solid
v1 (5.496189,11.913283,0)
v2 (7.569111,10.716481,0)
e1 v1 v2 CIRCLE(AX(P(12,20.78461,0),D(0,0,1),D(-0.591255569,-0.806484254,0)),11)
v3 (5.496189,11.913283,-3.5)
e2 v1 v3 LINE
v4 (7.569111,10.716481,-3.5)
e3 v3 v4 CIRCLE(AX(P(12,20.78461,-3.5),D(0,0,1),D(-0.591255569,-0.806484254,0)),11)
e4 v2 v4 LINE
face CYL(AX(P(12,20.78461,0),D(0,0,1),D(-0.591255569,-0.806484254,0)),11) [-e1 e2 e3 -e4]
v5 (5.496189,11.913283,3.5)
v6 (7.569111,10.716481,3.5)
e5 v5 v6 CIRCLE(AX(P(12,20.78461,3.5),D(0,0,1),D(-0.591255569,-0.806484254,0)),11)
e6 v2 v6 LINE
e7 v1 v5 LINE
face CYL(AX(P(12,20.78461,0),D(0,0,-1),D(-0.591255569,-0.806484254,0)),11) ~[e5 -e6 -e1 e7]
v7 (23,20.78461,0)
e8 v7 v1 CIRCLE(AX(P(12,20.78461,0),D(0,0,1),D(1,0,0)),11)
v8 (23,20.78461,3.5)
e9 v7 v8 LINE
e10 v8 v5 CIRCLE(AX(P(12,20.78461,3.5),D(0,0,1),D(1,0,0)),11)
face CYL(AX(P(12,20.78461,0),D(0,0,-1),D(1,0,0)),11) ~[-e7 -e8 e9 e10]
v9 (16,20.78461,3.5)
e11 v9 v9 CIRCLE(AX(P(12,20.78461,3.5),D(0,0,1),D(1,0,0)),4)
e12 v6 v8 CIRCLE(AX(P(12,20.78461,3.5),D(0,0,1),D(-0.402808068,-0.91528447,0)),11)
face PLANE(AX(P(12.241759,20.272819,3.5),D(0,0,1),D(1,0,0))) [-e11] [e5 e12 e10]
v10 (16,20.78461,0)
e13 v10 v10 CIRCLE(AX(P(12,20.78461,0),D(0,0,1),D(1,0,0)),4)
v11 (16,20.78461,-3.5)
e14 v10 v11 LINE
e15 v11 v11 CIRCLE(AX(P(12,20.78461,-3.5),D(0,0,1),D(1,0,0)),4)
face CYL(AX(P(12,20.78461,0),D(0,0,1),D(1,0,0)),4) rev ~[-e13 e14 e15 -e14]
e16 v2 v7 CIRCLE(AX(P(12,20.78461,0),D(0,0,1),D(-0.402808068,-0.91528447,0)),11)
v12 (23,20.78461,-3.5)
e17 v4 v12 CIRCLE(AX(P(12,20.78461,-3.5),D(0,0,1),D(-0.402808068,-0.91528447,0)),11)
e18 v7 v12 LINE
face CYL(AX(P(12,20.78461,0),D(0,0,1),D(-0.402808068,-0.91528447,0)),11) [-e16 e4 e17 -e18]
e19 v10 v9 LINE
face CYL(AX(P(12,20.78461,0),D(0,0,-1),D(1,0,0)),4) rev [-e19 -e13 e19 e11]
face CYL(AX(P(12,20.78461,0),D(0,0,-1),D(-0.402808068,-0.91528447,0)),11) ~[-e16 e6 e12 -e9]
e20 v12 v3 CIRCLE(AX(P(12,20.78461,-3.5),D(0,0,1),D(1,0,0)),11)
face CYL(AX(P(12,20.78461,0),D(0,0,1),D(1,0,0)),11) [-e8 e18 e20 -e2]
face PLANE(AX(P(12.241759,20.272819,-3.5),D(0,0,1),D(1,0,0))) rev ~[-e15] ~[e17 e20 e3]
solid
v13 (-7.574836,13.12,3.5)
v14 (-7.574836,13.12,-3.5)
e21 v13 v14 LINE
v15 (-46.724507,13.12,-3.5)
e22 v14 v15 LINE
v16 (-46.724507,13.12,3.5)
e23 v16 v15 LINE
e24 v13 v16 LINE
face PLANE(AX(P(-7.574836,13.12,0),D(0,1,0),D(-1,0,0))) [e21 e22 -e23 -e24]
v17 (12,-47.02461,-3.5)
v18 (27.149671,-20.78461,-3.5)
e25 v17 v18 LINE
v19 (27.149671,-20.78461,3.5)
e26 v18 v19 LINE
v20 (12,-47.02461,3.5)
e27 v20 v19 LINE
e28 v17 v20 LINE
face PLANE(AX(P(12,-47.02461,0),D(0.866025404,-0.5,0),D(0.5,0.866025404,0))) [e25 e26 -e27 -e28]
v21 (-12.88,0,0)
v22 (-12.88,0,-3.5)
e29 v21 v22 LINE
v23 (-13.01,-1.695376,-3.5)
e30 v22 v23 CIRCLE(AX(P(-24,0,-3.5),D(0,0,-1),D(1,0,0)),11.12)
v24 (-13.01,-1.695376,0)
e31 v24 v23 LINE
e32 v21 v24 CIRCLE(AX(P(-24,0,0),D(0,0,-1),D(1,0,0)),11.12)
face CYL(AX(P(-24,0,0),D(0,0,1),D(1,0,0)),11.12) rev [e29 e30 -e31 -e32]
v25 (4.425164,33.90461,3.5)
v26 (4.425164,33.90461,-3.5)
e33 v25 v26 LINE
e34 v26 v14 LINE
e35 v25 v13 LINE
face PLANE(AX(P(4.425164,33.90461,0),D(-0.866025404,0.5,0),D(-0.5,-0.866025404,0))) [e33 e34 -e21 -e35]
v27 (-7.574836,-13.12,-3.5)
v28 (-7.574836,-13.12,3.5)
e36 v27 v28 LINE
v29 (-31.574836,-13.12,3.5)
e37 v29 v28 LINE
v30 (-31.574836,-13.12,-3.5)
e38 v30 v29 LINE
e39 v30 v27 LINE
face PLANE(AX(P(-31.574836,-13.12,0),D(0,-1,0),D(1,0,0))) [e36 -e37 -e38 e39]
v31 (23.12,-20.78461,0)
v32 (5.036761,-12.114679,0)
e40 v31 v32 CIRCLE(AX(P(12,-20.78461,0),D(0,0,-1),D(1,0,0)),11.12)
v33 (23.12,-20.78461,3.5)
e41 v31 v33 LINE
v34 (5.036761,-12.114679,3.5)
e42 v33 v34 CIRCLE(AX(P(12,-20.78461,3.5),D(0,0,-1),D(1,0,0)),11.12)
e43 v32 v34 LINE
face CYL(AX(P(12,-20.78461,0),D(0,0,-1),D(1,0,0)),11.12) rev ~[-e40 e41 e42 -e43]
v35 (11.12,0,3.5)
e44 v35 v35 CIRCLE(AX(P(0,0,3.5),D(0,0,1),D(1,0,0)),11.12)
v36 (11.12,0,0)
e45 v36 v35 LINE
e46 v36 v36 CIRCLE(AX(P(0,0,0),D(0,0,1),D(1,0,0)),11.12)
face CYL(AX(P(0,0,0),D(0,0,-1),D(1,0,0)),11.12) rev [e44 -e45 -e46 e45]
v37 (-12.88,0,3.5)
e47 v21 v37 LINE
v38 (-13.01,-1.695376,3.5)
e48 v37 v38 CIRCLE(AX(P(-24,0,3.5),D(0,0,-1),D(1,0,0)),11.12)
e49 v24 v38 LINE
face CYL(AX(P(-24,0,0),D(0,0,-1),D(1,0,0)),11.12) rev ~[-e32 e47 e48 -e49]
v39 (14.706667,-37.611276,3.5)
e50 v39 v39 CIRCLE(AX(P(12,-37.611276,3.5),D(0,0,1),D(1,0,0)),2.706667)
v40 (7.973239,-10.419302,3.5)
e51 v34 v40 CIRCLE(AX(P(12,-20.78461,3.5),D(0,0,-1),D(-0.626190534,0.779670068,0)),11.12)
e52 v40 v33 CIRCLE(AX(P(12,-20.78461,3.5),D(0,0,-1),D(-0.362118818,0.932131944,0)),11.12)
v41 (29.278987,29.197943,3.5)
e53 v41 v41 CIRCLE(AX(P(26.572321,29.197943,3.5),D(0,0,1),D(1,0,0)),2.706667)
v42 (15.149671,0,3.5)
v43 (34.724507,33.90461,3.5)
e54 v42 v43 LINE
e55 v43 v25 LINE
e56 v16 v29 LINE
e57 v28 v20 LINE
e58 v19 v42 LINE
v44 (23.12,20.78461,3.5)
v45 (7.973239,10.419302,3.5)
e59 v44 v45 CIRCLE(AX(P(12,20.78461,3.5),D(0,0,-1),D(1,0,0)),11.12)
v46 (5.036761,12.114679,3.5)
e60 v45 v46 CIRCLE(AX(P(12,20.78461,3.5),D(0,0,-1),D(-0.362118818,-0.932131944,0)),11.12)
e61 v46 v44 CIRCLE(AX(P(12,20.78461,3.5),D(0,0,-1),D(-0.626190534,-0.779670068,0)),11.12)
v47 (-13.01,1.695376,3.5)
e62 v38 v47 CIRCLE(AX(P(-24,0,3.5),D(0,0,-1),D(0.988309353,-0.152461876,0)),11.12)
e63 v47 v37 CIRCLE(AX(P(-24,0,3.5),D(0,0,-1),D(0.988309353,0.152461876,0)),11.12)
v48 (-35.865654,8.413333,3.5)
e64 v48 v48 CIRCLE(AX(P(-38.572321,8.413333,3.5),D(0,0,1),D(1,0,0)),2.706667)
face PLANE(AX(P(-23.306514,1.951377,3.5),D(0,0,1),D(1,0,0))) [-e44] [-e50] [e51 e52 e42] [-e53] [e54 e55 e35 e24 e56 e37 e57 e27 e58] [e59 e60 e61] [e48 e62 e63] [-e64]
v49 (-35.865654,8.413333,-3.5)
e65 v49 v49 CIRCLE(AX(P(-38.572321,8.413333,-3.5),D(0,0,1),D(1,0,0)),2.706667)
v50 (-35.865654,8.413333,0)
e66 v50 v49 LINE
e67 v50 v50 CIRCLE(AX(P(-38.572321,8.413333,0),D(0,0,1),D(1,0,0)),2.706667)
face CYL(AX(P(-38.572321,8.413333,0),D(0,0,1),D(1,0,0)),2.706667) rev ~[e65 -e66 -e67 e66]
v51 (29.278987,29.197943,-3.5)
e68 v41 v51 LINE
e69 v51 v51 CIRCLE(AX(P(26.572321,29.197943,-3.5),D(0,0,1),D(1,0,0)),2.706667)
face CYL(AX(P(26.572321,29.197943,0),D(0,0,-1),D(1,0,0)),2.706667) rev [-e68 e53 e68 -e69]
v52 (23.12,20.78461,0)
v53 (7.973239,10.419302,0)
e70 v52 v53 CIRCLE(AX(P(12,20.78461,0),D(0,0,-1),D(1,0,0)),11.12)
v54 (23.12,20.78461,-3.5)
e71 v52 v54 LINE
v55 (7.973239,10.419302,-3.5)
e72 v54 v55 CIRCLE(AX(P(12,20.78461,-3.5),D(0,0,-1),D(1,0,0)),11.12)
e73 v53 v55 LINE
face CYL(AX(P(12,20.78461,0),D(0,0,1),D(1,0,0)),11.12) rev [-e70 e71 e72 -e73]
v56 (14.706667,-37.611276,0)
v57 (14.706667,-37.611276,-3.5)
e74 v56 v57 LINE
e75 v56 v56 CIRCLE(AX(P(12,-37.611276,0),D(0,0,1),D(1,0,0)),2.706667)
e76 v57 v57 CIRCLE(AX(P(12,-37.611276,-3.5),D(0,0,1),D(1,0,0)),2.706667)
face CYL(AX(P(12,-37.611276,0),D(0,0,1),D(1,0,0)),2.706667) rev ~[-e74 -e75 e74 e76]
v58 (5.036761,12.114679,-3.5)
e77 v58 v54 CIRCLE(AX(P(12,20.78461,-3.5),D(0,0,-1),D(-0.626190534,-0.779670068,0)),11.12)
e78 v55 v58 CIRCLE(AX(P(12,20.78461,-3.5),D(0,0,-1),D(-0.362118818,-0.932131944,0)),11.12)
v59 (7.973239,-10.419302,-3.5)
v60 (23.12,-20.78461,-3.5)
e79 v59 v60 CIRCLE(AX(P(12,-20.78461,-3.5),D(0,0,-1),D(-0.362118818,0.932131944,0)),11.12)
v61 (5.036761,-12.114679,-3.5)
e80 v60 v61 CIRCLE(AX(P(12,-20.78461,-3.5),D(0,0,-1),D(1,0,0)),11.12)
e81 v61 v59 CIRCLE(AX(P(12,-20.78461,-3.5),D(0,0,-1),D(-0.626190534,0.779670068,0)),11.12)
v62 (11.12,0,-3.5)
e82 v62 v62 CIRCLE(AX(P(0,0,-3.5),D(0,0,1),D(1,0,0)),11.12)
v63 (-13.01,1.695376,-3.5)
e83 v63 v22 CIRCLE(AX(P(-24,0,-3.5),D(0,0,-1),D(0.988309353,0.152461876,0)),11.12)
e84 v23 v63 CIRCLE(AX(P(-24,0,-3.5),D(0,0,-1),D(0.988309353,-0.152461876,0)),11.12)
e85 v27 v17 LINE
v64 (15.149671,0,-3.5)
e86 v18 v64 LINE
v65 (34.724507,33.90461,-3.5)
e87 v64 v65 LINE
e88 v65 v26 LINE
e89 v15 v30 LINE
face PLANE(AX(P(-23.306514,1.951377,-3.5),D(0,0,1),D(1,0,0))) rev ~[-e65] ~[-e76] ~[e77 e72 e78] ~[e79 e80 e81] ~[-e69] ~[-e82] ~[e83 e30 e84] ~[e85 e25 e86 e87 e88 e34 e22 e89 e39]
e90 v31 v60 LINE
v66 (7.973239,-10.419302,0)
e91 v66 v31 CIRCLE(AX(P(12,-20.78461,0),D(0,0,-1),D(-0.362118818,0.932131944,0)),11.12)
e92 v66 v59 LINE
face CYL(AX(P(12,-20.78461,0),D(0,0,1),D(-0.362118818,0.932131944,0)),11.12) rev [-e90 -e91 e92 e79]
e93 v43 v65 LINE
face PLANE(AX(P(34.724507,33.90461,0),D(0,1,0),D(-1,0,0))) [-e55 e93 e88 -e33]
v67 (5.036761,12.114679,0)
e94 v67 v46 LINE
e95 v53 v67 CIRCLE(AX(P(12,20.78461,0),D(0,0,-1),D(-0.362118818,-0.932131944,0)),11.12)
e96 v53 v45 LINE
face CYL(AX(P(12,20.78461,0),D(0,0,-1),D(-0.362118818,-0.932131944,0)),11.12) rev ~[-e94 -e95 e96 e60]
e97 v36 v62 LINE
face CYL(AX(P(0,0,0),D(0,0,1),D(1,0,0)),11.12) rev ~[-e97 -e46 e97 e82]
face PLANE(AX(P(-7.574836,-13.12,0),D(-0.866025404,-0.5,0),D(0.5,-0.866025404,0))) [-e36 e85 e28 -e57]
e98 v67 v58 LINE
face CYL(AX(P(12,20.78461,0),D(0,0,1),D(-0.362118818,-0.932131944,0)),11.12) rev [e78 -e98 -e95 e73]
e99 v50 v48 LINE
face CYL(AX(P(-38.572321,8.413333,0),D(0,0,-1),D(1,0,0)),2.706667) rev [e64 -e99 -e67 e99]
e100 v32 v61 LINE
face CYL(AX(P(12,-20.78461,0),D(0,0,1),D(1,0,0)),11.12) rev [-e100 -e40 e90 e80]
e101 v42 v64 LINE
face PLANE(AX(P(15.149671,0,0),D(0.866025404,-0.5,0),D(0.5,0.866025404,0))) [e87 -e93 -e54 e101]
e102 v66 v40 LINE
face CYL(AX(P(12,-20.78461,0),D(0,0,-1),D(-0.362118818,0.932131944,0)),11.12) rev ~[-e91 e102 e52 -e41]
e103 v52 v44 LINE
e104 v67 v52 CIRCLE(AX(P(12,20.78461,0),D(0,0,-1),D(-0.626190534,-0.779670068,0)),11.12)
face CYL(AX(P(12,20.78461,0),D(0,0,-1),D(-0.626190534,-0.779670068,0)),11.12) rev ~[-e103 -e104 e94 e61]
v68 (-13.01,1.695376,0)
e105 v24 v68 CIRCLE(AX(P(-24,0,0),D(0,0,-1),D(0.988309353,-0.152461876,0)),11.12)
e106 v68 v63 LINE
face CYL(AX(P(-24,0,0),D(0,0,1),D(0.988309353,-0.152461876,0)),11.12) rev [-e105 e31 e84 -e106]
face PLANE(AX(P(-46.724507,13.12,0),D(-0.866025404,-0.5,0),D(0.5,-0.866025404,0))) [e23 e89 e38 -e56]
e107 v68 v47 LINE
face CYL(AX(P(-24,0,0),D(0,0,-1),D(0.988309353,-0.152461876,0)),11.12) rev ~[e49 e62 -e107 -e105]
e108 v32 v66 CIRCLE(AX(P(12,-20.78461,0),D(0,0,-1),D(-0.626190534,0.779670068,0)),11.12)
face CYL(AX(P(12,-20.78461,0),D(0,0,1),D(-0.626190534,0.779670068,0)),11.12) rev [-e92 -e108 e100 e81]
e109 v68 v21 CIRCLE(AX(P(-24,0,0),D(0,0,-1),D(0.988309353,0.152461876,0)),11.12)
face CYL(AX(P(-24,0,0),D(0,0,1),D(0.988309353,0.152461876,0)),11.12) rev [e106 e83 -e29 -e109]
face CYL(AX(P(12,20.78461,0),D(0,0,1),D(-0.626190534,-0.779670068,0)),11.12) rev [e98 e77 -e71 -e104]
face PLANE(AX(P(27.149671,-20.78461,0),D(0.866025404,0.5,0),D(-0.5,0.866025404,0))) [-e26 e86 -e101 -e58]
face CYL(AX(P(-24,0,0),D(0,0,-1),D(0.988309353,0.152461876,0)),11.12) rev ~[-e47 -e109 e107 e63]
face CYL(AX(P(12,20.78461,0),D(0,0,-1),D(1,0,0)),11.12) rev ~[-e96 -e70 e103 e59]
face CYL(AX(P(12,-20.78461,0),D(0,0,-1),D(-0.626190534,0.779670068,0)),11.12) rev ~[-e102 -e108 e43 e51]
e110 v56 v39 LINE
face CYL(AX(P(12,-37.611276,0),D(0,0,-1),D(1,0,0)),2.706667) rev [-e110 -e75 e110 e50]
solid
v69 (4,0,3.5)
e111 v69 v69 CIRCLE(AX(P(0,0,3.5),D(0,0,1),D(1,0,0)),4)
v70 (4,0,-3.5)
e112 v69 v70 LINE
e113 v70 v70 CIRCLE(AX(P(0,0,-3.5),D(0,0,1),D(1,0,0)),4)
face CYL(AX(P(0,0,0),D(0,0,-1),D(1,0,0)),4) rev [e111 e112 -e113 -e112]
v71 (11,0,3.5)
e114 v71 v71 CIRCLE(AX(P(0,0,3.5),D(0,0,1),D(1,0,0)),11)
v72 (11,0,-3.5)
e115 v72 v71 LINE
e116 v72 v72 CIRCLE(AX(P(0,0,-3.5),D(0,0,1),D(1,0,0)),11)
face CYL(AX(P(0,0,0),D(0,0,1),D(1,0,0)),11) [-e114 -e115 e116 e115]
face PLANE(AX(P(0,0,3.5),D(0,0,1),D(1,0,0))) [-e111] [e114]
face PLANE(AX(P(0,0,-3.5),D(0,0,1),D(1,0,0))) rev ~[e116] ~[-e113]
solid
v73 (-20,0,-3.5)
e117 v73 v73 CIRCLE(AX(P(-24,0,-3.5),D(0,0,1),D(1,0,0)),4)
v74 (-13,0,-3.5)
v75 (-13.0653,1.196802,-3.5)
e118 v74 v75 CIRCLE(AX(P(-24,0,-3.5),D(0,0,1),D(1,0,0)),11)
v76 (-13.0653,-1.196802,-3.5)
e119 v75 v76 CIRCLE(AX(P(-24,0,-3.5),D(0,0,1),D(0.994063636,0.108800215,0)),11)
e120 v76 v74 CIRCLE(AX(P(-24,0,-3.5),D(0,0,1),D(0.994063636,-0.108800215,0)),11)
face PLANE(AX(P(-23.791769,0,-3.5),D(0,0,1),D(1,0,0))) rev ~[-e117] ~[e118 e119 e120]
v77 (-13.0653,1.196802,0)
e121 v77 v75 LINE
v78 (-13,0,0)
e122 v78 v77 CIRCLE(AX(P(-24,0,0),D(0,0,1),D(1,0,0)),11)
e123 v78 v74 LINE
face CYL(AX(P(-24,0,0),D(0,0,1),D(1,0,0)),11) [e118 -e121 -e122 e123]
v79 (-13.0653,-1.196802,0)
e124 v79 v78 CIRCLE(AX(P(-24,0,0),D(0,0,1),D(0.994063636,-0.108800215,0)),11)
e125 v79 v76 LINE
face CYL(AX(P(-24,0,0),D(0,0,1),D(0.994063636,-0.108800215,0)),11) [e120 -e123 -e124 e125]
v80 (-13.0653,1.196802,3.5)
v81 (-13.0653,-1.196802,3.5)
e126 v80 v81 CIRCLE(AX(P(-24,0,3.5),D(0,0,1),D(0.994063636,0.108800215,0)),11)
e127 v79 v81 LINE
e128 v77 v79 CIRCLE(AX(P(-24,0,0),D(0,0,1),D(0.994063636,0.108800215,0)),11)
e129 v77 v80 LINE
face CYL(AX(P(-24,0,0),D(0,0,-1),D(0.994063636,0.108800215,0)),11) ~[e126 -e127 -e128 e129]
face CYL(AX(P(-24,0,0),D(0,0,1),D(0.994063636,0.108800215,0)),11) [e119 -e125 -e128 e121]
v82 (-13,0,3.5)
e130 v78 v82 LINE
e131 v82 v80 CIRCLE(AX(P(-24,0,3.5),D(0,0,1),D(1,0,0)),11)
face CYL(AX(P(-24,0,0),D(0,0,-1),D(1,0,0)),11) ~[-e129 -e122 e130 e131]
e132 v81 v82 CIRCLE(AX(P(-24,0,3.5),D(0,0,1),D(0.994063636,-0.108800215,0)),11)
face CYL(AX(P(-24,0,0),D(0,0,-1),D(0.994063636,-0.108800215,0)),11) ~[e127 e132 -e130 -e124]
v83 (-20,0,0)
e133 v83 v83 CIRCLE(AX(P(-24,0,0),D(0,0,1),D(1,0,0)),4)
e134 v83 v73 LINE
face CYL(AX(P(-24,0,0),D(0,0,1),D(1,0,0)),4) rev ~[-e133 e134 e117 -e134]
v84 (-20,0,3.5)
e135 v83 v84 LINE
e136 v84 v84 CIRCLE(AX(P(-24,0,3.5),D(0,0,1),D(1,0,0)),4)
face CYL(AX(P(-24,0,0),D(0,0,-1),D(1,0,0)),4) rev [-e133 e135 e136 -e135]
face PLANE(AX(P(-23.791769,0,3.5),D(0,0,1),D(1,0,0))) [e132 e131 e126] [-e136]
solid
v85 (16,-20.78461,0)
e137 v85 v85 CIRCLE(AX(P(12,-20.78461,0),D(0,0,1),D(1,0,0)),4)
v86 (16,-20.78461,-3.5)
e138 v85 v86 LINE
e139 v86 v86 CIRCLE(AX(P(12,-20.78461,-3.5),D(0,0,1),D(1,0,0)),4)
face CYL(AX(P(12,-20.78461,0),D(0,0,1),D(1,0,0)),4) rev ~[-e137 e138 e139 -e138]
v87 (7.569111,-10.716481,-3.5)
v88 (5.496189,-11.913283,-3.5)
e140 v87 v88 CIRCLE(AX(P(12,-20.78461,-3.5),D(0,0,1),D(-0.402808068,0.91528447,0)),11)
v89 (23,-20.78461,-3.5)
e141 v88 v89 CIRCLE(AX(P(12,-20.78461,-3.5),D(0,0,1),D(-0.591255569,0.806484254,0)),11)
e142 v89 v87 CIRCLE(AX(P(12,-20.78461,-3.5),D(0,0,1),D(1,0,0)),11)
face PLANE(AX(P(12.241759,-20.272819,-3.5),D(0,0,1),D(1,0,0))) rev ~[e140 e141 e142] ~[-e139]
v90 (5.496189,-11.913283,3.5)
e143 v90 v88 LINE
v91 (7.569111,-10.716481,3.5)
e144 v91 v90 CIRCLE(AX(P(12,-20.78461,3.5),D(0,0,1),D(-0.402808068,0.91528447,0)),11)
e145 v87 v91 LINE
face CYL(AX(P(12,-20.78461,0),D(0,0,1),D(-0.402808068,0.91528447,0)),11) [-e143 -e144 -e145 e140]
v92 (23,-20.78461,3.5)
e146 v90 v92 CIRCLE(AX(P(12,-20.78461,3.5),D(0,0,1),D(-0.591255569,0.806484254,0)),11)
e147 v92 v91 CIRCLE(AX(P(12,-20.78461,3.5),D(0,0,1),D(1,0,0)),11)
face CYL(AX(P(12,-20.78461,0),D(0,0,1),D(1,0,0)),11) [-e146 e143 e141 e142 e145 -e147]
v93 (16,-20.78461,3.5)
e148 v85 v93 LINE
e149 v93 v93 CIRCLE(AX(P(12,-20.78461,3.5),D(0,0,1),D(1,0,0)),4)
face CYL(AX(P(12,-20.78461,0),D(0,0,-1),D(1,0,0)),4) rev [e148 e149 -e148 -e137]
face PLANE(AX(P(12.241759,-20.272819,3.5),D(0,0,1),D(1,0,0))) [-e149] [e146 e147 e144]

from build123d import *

# Parameters (mm, degrees)
F0_R     = 11
F0_R_2   = 4
F1_DEPTH = 3.5
F2_R     = 4
F3_DEPTH = 3.5
F2_R_2   = 2.7066666667
F2_R_3   = 11.12


with BuildPart() as f1:
    # F0 (on Top) → F1 (new body, symmetric)
    with BuildSketch(Plane.XY):
        Circle(F0_R)
        Circle(F0_R_2, mode=Mode.SUBTRACT)
    extrude(amount=F1_DEPTH, both=True)


with BuildPart() as f3:
    # F2 (on Top) → F3 (new body, symmetric)
    with BuildSketch(Plane.XY):
        with BuildLine():
            ThreePointArc((-13.0653, -1.1968023688), (-13.12, 0), (-13.0653, 1.1968023688))
            ThreePointArc((-13.0653, 1.1968023688), (-35, 0), (-13.0653, -1.1968023688))
        make_face()
        with Locations((-24, 0)):
            Circle(F2_R, mode=Mode.SUBTRACT)
        with BuildLine():
            ThreePointArc((-13.0653, -1.1968023688), (-13.0163371319, -0.5992912481), (-13, 0))
            ThreePointArc((-13, 0), (-13.0163371319, 0.5992912481), (-13.0653, 1.1968023688))
            ThreePointArc((-13.0653, 1.1968023688), (-13.12, 0), (-13.0653, -1.1968023688))
        make_face()
        with BuildLine():
            ThreePointArc((-13.0653, -1.1968023688), (-13.12, 0), (-13.0653, 1.1968023688))
            ThreePointArc((-13.0653, 1.1968023688), (-35, 0), (-13.0653, -1.1968023688))
        make_face()
        with Locations((-24, 0)):
            Circle(F2_R, mode=Mode.SUBTRACT)
    extrude(amount=F3_DEPTH, both=True)


with BuildPart() as f3b:
    # F2 (on Top) → F3, piece 2 (new body, symmetric)
    with BuildSketch(Plane.XY):
        with BuildLine():
            ThreePointArc((23, 20.7846096908), (7.027170011, 30.5963863852), (5.4961887453, 11.9132828925))
            ThreePointArc((5.4961887453, 11.9132828925), (6.56, 11.3622532977), (7.5691112547, 10.7164805237))
            ThreePointArc((7.5691112547, 10.7164805237), (18.0108328791, 11.5721242445), (23, 20.7846096908))
        make_face()
        with Locations((12, 20.7846096908)):
            Circle(F2_R, mode=Mode.SUBTRACT)
        with BuildLine():
            ThreePointArc((7.5691112547, 10.7164805237), (6.56, 11.3622532977), (5.4961887453, 11.9132828925))
            ThreePointArc((5.4961887453, 11.9132828925), (6.5, 11.2583302492), (7.5691112547, 10.7164805237))
        make_face()
    extrude(amount=F3_DEPTH, both=True)


with BuildPart() as f3c:
    # F2 (on Top) → F3, piece 3 (new body, symmetric)
    with BuildSketch(Plane.XY):
        with BuildLine():
            ThreePointArc((7.5691112547, -10.7164805237), (6.56, -11.3622532977), (5.4961887453, -11.9132828925))
            ThreePointArc((5.4961887453, -11.9132828925), (7.027170011, -30.5963863852), (23, -20.7846096908))
            ThreePointArc((23, -20.7846096908), (18.0108328791, -11.5721242445), (7.5691112547, -10.7164805237))
        make_face()
        with Locations((12, -20.7846096908)):
            Circle(F2_R, mode=Mode.SUBTRACT)
        with BuildLine():
            ThreePointArc((7.5691112547, -10.7164805237), (6.5, -11.2583302492), (5.4961887453, -11.9132828925))
            ThreePointArc((5.4961887453, -11.9132828925), (6.56, -11.3622532977), (7.5691112547, -10.7164805237))
        make_face()
    extrude(amount=F3_DEPTH, both=True)


with BuildPart() as f3d:
    # F2 (on Top) → F3, piece 4 (new body, symmetric)
    with BuildSketch(Plane.XY):
        with BuildLine():
            ThreePointArc((-13.01, -1.6953760645), (-35.12, 0), (-13.01, 1.6953760645))
            ThreePointArc((-13.01, 1.6953760645), (-8.657108814, 9.8584414074), (0, 13.12))
            Line((0, 13.12), (-7.5748355318, 13.12))
            Line((-7.5748355318, 13.12), (-46.7245065953, 13.12))
            Line((-46.7245065953, 13.12), (-31.5748355318, -13.12))
            Line((-31.5748355318, -13.12), (-7.5748355318, -13.12))
            Line((-7.5748355318, -13.12), (-11.3622532977, -6.56))
            ThreePointArc((-11.3622532977, -6.56), (-12.4264968599, -4.2091062935), (-13.01, -1.6953760645))
        make_face()
        with Locations((-38.5723207943, 8.4133333333)):
            Circle(F2_R_2, mode=Mode.SUBTRACT)
        with BuildLine():
            ThreePointArc((0, 13.12), (-8.657108814, 9.8584414074), (-13.01, 1.6953760645))
            ThreePointArc((-13.01, 1.6953760645), (-12.9125476326, 0.8501764523), (-12.88, 0))
            ThreePointArc((-12.88, 0), (-12.9125476326, -0.8501764523), (-13.01, -1.6953760645))
            ThreePointArc((-13.01, -1.6953760645), (-12.4264968599, -4.2091062935), (-11.3622532977, -6.56))
            ThreePointArc((-11.3622532977, -6.56), (-4.2091062935, -12.4264968599), (5.0367612592, -12.1146785355))
            ThreePointArc((5.0367612592, -12.1146785355), (6.44, -11.1544072007), (7.9732387408, -10.419302471))
            ThreePointArc((7.9732387408, -10.419302471), (9.8584414074, -8.657108814), (11.3622532977, -6.56))
            ThreePointArc((11.3622532977, -6.56), (12.6729468409, -3.3957058717), (13.12, 0))
            ThreePointArc((13.12, 0), (11.7631477989, 5.8105725932), (7.9732387408, 10.419302471))
            ThreePointArc((7.9732387408, 10.419302471), (6.44, 11.1544072007), (5.0367612592, 12.1146785355))
            ThreePointArc((5.0367612592, 12.1146785355), (2.5680554525, 12.8662151075), (0, 13.12))
        make_face()
        Circle(F2_R_3, mode=Mode.SUBTRACT)
        with BuildLine():
            ThreePointArc((0, 13.12), (-8.657108814, 9.8584414074), (-13.01, 1.6953760645))
            ThreePointArc((-13.01, 1.6953760645), (-12.9125476326, 0.8501764523), (-12.88, 0))
            ThreePointArc((-12.88, 0), (-12.9125476326, -0.8501764523), (-13.01, -1.6953760645))
            ThreePointArc((-13.01, -1.6953760645), (-12.4264968599, -4.2091062935), (-11.3622532977, -6.56))
            ThreePointArc((-11.3622532977, -6.56), (-4.2091062935, -12.4264968599), (5.0367612592, -12.1146785355))
            ThreePointArc((5.0367612592, -12.1146785355), (6.44, -11.1544072007), (7.9732387408, -10.419302471))
            ThreePointArc((7.9732387408, -10.419302471), (9.8584414074, -8.657108814), (11.3622532977, -6.56))
            ThreePointArc((11.3622532977, -6.56), (12.6729468409, -3.3957058717), (13.12, 0))
            ThreePointArc((13.12, 0), (11.7631477989, 5.8105725932), (7.9732387408, 10.419302471))
            ThreePointArc((7.9732387408, 10.419302471), (6.44, 11.1544072007), (5.0367612592, 12.1146785355))
            ThreePointArc((5.0367612592, 12.1146785355), (2.5680554525, 12.8662151075), (0, 13.12))
        make_face()
        Circle(F2_R_3, mode=Mode.SUBTRACT)
        with BuildLine():
            ThreePointArc((5.0367612592, -12.1146785355), (-4.2091062935, -12.4264968599), (-11.3622532977, -6.56))
            Line((-11.3622532977, -6.56), (-7.5748355318, -13.12))
            Line((-7.5748355318, -13.12), (12, -47.0246096908))
            Line((12, -47.0246096908), (27.1496710635, -20.7846096908))
            Line((27.1496710635, -20.7846096908), (15.1496710635, 0))
            Line((15.1496710635, 0), (11.3622532977, -6.56))
            ThreePointArc((11.3622532977, -6.56), (9.8584414074, -8.657108814), (7.9732387408, -10.419302471))
            ThreePointArc((7.9732387408, -10.419302471), (18.2800005891, -11.6076825035), (23.12, -20.7846096908))
            ThreePointArc((23.12, -20.7846096908), (7.1925482217, -30.8117133304), (5.0367612592, -12.1146785355))
        make_face()
        with Locations((12, -37.6112763575)):
            Circle(F2_R_2, mode=Mode.SUBTRACT)
        with BuildLine():
            ThreePointArc((0, 13.12), (-8.657108814, 9.8584414074), (-13.01, 1.6953760645))
            ThreePointArc((-13.01, 1.6953760645), (-12.9125476326, 0.8501764523), (-12.88, 0))
            ThreePointArc((-12.88, 0), (-12.9125476326, -0.8501764523), (-13.01, -1.6953760645))
            ThreePointArc((-13.01, -1.6953760645), (-12.4264968599, -4.2091062935), (-11.3622532977, -6.56))
            ThreePointArc((-11.3622532977, -6.56), (-4.2091062935, -12.4264968599), (5.0367612592, -12.1146785355))
            ThreePointArc((5.0367612592, -12.1146785355), (6.44, -11.1544072007), (7.9732387408, -10.419302471))
            ThreePointArc((7.9732387408, -10.419302471), (9.8584414074, -8.657108814), (11.3622532977, -6.56))
            ThreePointArc((11.3622532977, -6.56), (12.6729468409, -3.3957058717), (13.12, 0))
            ThreePointArc((13.12, 0), (11.7631477989, 5.8105725932), (7.9732387408, 10.419302471))
            ThreePointArc((7.9732387408, 10.419302471), (6.44, 11.1544072007), (5.0367612592, 12.1146785355))
            ThreePointArc((5.0367612592, 12.1146785355), (2.5680554525, 12.8662151075), (0, 13.12))
        make_face()
        Circle(F2_R_3, mode=Mode.SUBTRACT)
        with BuildLine():
            Line((-7.5748355318, 13.12), (0, 13.12))
            ThreePointArc((0, 13.12), (2.5680554525, 12.8662151075), (5.0367612592, 12.1146785355))
            ThreePointArc((5.0367612592, 12.1146785355), (7.1925482217, 30.8117133304), (23.12, 20.7846096908))
            ThreePointArc((23.12, 20.7846096908), (18.2800005891, 11.6076825035), (7.9732387408, 10.419302471))
            ThreePointArc((7.9732387408, 10.419302471), (11.7631477989, 5.8105725932), (13.12, 0))
            ThreePointArc((13.12, 0), (12.6729468409, -3.3957058717), (11.3622532977, -6.56))
            Line((11.3622532977, -6.56), (15.1496710635, 0))
            Line((15.1496710635, 0), (34.7245065953, 33.9046096908))
            Line((34.7245065953, 33.9046096908), (4.4251644682, 33.9046096908))
            Line((4.4251644682, 33.9046096908), (-7.5748355318, 13.12))
        make_face()
        with Locations((26.5723207943, 29.1979430242)):
            Circle(F2_R_2, mode=Mode.SUBTRACT)
        with BuildLine():
            ThreePointArc((0, 13.12), (-8.657108814, 9.8584414074), (-13.01, 1.6953760645))
            ThreePointArc((-13.01, 1.6953760645), (-12.9125476326, 0.8501764523), (-12.88, 0))
            ThreePointArc((-12.88, 0), (-12.9125476326, -0.8501764523), (-13.01, -1.6953760645))
            ThreePointArc((-13.01, -1.6953760645), (-12.4264968599, -4.2091062935), (-11.3622532977, -6.56))
            ThreePointArc((-11.3622532977, -6.56), (-4.2091062935, -12.4264968599), (5.0367612592, -12.1146785355))
            ThreePointArc((5.0367612592, -12.1146785355), (6.44, -11.1544072007), (7.9732387408, -10.419302471))
            ThreePointArc((7.9732387408, -10.419302471), (9.8584414074, -8.657108814), (11.3622532977, -6.56))
            ThreePointArc((11.3622532977, -6.56), (12.6729468409, -3.3957058717), (13.12, 0))
            ThreePointArc((13.12, 0), (11.7631477989, 5.8105725932), (7.9732387408, 10.419302471))
            ThreePointArc((7.9732387408, 10.419302471), (6.44, 11.1544072007), (5.0367612592, 12.1146785355))
            ThreePointArc((5.0367612592, 12.1146785355), (2.5680554525, 12.8662151075), (0, 13.12))
        make_face()
        Circle(F2_R_3, mode=Mode.SUBTRACT)
    extrude(amount=F3_DEPTH, both=True)


solid = Compound([f1.part, f3.part, f3b.part, f3c.part, f3d.part])
